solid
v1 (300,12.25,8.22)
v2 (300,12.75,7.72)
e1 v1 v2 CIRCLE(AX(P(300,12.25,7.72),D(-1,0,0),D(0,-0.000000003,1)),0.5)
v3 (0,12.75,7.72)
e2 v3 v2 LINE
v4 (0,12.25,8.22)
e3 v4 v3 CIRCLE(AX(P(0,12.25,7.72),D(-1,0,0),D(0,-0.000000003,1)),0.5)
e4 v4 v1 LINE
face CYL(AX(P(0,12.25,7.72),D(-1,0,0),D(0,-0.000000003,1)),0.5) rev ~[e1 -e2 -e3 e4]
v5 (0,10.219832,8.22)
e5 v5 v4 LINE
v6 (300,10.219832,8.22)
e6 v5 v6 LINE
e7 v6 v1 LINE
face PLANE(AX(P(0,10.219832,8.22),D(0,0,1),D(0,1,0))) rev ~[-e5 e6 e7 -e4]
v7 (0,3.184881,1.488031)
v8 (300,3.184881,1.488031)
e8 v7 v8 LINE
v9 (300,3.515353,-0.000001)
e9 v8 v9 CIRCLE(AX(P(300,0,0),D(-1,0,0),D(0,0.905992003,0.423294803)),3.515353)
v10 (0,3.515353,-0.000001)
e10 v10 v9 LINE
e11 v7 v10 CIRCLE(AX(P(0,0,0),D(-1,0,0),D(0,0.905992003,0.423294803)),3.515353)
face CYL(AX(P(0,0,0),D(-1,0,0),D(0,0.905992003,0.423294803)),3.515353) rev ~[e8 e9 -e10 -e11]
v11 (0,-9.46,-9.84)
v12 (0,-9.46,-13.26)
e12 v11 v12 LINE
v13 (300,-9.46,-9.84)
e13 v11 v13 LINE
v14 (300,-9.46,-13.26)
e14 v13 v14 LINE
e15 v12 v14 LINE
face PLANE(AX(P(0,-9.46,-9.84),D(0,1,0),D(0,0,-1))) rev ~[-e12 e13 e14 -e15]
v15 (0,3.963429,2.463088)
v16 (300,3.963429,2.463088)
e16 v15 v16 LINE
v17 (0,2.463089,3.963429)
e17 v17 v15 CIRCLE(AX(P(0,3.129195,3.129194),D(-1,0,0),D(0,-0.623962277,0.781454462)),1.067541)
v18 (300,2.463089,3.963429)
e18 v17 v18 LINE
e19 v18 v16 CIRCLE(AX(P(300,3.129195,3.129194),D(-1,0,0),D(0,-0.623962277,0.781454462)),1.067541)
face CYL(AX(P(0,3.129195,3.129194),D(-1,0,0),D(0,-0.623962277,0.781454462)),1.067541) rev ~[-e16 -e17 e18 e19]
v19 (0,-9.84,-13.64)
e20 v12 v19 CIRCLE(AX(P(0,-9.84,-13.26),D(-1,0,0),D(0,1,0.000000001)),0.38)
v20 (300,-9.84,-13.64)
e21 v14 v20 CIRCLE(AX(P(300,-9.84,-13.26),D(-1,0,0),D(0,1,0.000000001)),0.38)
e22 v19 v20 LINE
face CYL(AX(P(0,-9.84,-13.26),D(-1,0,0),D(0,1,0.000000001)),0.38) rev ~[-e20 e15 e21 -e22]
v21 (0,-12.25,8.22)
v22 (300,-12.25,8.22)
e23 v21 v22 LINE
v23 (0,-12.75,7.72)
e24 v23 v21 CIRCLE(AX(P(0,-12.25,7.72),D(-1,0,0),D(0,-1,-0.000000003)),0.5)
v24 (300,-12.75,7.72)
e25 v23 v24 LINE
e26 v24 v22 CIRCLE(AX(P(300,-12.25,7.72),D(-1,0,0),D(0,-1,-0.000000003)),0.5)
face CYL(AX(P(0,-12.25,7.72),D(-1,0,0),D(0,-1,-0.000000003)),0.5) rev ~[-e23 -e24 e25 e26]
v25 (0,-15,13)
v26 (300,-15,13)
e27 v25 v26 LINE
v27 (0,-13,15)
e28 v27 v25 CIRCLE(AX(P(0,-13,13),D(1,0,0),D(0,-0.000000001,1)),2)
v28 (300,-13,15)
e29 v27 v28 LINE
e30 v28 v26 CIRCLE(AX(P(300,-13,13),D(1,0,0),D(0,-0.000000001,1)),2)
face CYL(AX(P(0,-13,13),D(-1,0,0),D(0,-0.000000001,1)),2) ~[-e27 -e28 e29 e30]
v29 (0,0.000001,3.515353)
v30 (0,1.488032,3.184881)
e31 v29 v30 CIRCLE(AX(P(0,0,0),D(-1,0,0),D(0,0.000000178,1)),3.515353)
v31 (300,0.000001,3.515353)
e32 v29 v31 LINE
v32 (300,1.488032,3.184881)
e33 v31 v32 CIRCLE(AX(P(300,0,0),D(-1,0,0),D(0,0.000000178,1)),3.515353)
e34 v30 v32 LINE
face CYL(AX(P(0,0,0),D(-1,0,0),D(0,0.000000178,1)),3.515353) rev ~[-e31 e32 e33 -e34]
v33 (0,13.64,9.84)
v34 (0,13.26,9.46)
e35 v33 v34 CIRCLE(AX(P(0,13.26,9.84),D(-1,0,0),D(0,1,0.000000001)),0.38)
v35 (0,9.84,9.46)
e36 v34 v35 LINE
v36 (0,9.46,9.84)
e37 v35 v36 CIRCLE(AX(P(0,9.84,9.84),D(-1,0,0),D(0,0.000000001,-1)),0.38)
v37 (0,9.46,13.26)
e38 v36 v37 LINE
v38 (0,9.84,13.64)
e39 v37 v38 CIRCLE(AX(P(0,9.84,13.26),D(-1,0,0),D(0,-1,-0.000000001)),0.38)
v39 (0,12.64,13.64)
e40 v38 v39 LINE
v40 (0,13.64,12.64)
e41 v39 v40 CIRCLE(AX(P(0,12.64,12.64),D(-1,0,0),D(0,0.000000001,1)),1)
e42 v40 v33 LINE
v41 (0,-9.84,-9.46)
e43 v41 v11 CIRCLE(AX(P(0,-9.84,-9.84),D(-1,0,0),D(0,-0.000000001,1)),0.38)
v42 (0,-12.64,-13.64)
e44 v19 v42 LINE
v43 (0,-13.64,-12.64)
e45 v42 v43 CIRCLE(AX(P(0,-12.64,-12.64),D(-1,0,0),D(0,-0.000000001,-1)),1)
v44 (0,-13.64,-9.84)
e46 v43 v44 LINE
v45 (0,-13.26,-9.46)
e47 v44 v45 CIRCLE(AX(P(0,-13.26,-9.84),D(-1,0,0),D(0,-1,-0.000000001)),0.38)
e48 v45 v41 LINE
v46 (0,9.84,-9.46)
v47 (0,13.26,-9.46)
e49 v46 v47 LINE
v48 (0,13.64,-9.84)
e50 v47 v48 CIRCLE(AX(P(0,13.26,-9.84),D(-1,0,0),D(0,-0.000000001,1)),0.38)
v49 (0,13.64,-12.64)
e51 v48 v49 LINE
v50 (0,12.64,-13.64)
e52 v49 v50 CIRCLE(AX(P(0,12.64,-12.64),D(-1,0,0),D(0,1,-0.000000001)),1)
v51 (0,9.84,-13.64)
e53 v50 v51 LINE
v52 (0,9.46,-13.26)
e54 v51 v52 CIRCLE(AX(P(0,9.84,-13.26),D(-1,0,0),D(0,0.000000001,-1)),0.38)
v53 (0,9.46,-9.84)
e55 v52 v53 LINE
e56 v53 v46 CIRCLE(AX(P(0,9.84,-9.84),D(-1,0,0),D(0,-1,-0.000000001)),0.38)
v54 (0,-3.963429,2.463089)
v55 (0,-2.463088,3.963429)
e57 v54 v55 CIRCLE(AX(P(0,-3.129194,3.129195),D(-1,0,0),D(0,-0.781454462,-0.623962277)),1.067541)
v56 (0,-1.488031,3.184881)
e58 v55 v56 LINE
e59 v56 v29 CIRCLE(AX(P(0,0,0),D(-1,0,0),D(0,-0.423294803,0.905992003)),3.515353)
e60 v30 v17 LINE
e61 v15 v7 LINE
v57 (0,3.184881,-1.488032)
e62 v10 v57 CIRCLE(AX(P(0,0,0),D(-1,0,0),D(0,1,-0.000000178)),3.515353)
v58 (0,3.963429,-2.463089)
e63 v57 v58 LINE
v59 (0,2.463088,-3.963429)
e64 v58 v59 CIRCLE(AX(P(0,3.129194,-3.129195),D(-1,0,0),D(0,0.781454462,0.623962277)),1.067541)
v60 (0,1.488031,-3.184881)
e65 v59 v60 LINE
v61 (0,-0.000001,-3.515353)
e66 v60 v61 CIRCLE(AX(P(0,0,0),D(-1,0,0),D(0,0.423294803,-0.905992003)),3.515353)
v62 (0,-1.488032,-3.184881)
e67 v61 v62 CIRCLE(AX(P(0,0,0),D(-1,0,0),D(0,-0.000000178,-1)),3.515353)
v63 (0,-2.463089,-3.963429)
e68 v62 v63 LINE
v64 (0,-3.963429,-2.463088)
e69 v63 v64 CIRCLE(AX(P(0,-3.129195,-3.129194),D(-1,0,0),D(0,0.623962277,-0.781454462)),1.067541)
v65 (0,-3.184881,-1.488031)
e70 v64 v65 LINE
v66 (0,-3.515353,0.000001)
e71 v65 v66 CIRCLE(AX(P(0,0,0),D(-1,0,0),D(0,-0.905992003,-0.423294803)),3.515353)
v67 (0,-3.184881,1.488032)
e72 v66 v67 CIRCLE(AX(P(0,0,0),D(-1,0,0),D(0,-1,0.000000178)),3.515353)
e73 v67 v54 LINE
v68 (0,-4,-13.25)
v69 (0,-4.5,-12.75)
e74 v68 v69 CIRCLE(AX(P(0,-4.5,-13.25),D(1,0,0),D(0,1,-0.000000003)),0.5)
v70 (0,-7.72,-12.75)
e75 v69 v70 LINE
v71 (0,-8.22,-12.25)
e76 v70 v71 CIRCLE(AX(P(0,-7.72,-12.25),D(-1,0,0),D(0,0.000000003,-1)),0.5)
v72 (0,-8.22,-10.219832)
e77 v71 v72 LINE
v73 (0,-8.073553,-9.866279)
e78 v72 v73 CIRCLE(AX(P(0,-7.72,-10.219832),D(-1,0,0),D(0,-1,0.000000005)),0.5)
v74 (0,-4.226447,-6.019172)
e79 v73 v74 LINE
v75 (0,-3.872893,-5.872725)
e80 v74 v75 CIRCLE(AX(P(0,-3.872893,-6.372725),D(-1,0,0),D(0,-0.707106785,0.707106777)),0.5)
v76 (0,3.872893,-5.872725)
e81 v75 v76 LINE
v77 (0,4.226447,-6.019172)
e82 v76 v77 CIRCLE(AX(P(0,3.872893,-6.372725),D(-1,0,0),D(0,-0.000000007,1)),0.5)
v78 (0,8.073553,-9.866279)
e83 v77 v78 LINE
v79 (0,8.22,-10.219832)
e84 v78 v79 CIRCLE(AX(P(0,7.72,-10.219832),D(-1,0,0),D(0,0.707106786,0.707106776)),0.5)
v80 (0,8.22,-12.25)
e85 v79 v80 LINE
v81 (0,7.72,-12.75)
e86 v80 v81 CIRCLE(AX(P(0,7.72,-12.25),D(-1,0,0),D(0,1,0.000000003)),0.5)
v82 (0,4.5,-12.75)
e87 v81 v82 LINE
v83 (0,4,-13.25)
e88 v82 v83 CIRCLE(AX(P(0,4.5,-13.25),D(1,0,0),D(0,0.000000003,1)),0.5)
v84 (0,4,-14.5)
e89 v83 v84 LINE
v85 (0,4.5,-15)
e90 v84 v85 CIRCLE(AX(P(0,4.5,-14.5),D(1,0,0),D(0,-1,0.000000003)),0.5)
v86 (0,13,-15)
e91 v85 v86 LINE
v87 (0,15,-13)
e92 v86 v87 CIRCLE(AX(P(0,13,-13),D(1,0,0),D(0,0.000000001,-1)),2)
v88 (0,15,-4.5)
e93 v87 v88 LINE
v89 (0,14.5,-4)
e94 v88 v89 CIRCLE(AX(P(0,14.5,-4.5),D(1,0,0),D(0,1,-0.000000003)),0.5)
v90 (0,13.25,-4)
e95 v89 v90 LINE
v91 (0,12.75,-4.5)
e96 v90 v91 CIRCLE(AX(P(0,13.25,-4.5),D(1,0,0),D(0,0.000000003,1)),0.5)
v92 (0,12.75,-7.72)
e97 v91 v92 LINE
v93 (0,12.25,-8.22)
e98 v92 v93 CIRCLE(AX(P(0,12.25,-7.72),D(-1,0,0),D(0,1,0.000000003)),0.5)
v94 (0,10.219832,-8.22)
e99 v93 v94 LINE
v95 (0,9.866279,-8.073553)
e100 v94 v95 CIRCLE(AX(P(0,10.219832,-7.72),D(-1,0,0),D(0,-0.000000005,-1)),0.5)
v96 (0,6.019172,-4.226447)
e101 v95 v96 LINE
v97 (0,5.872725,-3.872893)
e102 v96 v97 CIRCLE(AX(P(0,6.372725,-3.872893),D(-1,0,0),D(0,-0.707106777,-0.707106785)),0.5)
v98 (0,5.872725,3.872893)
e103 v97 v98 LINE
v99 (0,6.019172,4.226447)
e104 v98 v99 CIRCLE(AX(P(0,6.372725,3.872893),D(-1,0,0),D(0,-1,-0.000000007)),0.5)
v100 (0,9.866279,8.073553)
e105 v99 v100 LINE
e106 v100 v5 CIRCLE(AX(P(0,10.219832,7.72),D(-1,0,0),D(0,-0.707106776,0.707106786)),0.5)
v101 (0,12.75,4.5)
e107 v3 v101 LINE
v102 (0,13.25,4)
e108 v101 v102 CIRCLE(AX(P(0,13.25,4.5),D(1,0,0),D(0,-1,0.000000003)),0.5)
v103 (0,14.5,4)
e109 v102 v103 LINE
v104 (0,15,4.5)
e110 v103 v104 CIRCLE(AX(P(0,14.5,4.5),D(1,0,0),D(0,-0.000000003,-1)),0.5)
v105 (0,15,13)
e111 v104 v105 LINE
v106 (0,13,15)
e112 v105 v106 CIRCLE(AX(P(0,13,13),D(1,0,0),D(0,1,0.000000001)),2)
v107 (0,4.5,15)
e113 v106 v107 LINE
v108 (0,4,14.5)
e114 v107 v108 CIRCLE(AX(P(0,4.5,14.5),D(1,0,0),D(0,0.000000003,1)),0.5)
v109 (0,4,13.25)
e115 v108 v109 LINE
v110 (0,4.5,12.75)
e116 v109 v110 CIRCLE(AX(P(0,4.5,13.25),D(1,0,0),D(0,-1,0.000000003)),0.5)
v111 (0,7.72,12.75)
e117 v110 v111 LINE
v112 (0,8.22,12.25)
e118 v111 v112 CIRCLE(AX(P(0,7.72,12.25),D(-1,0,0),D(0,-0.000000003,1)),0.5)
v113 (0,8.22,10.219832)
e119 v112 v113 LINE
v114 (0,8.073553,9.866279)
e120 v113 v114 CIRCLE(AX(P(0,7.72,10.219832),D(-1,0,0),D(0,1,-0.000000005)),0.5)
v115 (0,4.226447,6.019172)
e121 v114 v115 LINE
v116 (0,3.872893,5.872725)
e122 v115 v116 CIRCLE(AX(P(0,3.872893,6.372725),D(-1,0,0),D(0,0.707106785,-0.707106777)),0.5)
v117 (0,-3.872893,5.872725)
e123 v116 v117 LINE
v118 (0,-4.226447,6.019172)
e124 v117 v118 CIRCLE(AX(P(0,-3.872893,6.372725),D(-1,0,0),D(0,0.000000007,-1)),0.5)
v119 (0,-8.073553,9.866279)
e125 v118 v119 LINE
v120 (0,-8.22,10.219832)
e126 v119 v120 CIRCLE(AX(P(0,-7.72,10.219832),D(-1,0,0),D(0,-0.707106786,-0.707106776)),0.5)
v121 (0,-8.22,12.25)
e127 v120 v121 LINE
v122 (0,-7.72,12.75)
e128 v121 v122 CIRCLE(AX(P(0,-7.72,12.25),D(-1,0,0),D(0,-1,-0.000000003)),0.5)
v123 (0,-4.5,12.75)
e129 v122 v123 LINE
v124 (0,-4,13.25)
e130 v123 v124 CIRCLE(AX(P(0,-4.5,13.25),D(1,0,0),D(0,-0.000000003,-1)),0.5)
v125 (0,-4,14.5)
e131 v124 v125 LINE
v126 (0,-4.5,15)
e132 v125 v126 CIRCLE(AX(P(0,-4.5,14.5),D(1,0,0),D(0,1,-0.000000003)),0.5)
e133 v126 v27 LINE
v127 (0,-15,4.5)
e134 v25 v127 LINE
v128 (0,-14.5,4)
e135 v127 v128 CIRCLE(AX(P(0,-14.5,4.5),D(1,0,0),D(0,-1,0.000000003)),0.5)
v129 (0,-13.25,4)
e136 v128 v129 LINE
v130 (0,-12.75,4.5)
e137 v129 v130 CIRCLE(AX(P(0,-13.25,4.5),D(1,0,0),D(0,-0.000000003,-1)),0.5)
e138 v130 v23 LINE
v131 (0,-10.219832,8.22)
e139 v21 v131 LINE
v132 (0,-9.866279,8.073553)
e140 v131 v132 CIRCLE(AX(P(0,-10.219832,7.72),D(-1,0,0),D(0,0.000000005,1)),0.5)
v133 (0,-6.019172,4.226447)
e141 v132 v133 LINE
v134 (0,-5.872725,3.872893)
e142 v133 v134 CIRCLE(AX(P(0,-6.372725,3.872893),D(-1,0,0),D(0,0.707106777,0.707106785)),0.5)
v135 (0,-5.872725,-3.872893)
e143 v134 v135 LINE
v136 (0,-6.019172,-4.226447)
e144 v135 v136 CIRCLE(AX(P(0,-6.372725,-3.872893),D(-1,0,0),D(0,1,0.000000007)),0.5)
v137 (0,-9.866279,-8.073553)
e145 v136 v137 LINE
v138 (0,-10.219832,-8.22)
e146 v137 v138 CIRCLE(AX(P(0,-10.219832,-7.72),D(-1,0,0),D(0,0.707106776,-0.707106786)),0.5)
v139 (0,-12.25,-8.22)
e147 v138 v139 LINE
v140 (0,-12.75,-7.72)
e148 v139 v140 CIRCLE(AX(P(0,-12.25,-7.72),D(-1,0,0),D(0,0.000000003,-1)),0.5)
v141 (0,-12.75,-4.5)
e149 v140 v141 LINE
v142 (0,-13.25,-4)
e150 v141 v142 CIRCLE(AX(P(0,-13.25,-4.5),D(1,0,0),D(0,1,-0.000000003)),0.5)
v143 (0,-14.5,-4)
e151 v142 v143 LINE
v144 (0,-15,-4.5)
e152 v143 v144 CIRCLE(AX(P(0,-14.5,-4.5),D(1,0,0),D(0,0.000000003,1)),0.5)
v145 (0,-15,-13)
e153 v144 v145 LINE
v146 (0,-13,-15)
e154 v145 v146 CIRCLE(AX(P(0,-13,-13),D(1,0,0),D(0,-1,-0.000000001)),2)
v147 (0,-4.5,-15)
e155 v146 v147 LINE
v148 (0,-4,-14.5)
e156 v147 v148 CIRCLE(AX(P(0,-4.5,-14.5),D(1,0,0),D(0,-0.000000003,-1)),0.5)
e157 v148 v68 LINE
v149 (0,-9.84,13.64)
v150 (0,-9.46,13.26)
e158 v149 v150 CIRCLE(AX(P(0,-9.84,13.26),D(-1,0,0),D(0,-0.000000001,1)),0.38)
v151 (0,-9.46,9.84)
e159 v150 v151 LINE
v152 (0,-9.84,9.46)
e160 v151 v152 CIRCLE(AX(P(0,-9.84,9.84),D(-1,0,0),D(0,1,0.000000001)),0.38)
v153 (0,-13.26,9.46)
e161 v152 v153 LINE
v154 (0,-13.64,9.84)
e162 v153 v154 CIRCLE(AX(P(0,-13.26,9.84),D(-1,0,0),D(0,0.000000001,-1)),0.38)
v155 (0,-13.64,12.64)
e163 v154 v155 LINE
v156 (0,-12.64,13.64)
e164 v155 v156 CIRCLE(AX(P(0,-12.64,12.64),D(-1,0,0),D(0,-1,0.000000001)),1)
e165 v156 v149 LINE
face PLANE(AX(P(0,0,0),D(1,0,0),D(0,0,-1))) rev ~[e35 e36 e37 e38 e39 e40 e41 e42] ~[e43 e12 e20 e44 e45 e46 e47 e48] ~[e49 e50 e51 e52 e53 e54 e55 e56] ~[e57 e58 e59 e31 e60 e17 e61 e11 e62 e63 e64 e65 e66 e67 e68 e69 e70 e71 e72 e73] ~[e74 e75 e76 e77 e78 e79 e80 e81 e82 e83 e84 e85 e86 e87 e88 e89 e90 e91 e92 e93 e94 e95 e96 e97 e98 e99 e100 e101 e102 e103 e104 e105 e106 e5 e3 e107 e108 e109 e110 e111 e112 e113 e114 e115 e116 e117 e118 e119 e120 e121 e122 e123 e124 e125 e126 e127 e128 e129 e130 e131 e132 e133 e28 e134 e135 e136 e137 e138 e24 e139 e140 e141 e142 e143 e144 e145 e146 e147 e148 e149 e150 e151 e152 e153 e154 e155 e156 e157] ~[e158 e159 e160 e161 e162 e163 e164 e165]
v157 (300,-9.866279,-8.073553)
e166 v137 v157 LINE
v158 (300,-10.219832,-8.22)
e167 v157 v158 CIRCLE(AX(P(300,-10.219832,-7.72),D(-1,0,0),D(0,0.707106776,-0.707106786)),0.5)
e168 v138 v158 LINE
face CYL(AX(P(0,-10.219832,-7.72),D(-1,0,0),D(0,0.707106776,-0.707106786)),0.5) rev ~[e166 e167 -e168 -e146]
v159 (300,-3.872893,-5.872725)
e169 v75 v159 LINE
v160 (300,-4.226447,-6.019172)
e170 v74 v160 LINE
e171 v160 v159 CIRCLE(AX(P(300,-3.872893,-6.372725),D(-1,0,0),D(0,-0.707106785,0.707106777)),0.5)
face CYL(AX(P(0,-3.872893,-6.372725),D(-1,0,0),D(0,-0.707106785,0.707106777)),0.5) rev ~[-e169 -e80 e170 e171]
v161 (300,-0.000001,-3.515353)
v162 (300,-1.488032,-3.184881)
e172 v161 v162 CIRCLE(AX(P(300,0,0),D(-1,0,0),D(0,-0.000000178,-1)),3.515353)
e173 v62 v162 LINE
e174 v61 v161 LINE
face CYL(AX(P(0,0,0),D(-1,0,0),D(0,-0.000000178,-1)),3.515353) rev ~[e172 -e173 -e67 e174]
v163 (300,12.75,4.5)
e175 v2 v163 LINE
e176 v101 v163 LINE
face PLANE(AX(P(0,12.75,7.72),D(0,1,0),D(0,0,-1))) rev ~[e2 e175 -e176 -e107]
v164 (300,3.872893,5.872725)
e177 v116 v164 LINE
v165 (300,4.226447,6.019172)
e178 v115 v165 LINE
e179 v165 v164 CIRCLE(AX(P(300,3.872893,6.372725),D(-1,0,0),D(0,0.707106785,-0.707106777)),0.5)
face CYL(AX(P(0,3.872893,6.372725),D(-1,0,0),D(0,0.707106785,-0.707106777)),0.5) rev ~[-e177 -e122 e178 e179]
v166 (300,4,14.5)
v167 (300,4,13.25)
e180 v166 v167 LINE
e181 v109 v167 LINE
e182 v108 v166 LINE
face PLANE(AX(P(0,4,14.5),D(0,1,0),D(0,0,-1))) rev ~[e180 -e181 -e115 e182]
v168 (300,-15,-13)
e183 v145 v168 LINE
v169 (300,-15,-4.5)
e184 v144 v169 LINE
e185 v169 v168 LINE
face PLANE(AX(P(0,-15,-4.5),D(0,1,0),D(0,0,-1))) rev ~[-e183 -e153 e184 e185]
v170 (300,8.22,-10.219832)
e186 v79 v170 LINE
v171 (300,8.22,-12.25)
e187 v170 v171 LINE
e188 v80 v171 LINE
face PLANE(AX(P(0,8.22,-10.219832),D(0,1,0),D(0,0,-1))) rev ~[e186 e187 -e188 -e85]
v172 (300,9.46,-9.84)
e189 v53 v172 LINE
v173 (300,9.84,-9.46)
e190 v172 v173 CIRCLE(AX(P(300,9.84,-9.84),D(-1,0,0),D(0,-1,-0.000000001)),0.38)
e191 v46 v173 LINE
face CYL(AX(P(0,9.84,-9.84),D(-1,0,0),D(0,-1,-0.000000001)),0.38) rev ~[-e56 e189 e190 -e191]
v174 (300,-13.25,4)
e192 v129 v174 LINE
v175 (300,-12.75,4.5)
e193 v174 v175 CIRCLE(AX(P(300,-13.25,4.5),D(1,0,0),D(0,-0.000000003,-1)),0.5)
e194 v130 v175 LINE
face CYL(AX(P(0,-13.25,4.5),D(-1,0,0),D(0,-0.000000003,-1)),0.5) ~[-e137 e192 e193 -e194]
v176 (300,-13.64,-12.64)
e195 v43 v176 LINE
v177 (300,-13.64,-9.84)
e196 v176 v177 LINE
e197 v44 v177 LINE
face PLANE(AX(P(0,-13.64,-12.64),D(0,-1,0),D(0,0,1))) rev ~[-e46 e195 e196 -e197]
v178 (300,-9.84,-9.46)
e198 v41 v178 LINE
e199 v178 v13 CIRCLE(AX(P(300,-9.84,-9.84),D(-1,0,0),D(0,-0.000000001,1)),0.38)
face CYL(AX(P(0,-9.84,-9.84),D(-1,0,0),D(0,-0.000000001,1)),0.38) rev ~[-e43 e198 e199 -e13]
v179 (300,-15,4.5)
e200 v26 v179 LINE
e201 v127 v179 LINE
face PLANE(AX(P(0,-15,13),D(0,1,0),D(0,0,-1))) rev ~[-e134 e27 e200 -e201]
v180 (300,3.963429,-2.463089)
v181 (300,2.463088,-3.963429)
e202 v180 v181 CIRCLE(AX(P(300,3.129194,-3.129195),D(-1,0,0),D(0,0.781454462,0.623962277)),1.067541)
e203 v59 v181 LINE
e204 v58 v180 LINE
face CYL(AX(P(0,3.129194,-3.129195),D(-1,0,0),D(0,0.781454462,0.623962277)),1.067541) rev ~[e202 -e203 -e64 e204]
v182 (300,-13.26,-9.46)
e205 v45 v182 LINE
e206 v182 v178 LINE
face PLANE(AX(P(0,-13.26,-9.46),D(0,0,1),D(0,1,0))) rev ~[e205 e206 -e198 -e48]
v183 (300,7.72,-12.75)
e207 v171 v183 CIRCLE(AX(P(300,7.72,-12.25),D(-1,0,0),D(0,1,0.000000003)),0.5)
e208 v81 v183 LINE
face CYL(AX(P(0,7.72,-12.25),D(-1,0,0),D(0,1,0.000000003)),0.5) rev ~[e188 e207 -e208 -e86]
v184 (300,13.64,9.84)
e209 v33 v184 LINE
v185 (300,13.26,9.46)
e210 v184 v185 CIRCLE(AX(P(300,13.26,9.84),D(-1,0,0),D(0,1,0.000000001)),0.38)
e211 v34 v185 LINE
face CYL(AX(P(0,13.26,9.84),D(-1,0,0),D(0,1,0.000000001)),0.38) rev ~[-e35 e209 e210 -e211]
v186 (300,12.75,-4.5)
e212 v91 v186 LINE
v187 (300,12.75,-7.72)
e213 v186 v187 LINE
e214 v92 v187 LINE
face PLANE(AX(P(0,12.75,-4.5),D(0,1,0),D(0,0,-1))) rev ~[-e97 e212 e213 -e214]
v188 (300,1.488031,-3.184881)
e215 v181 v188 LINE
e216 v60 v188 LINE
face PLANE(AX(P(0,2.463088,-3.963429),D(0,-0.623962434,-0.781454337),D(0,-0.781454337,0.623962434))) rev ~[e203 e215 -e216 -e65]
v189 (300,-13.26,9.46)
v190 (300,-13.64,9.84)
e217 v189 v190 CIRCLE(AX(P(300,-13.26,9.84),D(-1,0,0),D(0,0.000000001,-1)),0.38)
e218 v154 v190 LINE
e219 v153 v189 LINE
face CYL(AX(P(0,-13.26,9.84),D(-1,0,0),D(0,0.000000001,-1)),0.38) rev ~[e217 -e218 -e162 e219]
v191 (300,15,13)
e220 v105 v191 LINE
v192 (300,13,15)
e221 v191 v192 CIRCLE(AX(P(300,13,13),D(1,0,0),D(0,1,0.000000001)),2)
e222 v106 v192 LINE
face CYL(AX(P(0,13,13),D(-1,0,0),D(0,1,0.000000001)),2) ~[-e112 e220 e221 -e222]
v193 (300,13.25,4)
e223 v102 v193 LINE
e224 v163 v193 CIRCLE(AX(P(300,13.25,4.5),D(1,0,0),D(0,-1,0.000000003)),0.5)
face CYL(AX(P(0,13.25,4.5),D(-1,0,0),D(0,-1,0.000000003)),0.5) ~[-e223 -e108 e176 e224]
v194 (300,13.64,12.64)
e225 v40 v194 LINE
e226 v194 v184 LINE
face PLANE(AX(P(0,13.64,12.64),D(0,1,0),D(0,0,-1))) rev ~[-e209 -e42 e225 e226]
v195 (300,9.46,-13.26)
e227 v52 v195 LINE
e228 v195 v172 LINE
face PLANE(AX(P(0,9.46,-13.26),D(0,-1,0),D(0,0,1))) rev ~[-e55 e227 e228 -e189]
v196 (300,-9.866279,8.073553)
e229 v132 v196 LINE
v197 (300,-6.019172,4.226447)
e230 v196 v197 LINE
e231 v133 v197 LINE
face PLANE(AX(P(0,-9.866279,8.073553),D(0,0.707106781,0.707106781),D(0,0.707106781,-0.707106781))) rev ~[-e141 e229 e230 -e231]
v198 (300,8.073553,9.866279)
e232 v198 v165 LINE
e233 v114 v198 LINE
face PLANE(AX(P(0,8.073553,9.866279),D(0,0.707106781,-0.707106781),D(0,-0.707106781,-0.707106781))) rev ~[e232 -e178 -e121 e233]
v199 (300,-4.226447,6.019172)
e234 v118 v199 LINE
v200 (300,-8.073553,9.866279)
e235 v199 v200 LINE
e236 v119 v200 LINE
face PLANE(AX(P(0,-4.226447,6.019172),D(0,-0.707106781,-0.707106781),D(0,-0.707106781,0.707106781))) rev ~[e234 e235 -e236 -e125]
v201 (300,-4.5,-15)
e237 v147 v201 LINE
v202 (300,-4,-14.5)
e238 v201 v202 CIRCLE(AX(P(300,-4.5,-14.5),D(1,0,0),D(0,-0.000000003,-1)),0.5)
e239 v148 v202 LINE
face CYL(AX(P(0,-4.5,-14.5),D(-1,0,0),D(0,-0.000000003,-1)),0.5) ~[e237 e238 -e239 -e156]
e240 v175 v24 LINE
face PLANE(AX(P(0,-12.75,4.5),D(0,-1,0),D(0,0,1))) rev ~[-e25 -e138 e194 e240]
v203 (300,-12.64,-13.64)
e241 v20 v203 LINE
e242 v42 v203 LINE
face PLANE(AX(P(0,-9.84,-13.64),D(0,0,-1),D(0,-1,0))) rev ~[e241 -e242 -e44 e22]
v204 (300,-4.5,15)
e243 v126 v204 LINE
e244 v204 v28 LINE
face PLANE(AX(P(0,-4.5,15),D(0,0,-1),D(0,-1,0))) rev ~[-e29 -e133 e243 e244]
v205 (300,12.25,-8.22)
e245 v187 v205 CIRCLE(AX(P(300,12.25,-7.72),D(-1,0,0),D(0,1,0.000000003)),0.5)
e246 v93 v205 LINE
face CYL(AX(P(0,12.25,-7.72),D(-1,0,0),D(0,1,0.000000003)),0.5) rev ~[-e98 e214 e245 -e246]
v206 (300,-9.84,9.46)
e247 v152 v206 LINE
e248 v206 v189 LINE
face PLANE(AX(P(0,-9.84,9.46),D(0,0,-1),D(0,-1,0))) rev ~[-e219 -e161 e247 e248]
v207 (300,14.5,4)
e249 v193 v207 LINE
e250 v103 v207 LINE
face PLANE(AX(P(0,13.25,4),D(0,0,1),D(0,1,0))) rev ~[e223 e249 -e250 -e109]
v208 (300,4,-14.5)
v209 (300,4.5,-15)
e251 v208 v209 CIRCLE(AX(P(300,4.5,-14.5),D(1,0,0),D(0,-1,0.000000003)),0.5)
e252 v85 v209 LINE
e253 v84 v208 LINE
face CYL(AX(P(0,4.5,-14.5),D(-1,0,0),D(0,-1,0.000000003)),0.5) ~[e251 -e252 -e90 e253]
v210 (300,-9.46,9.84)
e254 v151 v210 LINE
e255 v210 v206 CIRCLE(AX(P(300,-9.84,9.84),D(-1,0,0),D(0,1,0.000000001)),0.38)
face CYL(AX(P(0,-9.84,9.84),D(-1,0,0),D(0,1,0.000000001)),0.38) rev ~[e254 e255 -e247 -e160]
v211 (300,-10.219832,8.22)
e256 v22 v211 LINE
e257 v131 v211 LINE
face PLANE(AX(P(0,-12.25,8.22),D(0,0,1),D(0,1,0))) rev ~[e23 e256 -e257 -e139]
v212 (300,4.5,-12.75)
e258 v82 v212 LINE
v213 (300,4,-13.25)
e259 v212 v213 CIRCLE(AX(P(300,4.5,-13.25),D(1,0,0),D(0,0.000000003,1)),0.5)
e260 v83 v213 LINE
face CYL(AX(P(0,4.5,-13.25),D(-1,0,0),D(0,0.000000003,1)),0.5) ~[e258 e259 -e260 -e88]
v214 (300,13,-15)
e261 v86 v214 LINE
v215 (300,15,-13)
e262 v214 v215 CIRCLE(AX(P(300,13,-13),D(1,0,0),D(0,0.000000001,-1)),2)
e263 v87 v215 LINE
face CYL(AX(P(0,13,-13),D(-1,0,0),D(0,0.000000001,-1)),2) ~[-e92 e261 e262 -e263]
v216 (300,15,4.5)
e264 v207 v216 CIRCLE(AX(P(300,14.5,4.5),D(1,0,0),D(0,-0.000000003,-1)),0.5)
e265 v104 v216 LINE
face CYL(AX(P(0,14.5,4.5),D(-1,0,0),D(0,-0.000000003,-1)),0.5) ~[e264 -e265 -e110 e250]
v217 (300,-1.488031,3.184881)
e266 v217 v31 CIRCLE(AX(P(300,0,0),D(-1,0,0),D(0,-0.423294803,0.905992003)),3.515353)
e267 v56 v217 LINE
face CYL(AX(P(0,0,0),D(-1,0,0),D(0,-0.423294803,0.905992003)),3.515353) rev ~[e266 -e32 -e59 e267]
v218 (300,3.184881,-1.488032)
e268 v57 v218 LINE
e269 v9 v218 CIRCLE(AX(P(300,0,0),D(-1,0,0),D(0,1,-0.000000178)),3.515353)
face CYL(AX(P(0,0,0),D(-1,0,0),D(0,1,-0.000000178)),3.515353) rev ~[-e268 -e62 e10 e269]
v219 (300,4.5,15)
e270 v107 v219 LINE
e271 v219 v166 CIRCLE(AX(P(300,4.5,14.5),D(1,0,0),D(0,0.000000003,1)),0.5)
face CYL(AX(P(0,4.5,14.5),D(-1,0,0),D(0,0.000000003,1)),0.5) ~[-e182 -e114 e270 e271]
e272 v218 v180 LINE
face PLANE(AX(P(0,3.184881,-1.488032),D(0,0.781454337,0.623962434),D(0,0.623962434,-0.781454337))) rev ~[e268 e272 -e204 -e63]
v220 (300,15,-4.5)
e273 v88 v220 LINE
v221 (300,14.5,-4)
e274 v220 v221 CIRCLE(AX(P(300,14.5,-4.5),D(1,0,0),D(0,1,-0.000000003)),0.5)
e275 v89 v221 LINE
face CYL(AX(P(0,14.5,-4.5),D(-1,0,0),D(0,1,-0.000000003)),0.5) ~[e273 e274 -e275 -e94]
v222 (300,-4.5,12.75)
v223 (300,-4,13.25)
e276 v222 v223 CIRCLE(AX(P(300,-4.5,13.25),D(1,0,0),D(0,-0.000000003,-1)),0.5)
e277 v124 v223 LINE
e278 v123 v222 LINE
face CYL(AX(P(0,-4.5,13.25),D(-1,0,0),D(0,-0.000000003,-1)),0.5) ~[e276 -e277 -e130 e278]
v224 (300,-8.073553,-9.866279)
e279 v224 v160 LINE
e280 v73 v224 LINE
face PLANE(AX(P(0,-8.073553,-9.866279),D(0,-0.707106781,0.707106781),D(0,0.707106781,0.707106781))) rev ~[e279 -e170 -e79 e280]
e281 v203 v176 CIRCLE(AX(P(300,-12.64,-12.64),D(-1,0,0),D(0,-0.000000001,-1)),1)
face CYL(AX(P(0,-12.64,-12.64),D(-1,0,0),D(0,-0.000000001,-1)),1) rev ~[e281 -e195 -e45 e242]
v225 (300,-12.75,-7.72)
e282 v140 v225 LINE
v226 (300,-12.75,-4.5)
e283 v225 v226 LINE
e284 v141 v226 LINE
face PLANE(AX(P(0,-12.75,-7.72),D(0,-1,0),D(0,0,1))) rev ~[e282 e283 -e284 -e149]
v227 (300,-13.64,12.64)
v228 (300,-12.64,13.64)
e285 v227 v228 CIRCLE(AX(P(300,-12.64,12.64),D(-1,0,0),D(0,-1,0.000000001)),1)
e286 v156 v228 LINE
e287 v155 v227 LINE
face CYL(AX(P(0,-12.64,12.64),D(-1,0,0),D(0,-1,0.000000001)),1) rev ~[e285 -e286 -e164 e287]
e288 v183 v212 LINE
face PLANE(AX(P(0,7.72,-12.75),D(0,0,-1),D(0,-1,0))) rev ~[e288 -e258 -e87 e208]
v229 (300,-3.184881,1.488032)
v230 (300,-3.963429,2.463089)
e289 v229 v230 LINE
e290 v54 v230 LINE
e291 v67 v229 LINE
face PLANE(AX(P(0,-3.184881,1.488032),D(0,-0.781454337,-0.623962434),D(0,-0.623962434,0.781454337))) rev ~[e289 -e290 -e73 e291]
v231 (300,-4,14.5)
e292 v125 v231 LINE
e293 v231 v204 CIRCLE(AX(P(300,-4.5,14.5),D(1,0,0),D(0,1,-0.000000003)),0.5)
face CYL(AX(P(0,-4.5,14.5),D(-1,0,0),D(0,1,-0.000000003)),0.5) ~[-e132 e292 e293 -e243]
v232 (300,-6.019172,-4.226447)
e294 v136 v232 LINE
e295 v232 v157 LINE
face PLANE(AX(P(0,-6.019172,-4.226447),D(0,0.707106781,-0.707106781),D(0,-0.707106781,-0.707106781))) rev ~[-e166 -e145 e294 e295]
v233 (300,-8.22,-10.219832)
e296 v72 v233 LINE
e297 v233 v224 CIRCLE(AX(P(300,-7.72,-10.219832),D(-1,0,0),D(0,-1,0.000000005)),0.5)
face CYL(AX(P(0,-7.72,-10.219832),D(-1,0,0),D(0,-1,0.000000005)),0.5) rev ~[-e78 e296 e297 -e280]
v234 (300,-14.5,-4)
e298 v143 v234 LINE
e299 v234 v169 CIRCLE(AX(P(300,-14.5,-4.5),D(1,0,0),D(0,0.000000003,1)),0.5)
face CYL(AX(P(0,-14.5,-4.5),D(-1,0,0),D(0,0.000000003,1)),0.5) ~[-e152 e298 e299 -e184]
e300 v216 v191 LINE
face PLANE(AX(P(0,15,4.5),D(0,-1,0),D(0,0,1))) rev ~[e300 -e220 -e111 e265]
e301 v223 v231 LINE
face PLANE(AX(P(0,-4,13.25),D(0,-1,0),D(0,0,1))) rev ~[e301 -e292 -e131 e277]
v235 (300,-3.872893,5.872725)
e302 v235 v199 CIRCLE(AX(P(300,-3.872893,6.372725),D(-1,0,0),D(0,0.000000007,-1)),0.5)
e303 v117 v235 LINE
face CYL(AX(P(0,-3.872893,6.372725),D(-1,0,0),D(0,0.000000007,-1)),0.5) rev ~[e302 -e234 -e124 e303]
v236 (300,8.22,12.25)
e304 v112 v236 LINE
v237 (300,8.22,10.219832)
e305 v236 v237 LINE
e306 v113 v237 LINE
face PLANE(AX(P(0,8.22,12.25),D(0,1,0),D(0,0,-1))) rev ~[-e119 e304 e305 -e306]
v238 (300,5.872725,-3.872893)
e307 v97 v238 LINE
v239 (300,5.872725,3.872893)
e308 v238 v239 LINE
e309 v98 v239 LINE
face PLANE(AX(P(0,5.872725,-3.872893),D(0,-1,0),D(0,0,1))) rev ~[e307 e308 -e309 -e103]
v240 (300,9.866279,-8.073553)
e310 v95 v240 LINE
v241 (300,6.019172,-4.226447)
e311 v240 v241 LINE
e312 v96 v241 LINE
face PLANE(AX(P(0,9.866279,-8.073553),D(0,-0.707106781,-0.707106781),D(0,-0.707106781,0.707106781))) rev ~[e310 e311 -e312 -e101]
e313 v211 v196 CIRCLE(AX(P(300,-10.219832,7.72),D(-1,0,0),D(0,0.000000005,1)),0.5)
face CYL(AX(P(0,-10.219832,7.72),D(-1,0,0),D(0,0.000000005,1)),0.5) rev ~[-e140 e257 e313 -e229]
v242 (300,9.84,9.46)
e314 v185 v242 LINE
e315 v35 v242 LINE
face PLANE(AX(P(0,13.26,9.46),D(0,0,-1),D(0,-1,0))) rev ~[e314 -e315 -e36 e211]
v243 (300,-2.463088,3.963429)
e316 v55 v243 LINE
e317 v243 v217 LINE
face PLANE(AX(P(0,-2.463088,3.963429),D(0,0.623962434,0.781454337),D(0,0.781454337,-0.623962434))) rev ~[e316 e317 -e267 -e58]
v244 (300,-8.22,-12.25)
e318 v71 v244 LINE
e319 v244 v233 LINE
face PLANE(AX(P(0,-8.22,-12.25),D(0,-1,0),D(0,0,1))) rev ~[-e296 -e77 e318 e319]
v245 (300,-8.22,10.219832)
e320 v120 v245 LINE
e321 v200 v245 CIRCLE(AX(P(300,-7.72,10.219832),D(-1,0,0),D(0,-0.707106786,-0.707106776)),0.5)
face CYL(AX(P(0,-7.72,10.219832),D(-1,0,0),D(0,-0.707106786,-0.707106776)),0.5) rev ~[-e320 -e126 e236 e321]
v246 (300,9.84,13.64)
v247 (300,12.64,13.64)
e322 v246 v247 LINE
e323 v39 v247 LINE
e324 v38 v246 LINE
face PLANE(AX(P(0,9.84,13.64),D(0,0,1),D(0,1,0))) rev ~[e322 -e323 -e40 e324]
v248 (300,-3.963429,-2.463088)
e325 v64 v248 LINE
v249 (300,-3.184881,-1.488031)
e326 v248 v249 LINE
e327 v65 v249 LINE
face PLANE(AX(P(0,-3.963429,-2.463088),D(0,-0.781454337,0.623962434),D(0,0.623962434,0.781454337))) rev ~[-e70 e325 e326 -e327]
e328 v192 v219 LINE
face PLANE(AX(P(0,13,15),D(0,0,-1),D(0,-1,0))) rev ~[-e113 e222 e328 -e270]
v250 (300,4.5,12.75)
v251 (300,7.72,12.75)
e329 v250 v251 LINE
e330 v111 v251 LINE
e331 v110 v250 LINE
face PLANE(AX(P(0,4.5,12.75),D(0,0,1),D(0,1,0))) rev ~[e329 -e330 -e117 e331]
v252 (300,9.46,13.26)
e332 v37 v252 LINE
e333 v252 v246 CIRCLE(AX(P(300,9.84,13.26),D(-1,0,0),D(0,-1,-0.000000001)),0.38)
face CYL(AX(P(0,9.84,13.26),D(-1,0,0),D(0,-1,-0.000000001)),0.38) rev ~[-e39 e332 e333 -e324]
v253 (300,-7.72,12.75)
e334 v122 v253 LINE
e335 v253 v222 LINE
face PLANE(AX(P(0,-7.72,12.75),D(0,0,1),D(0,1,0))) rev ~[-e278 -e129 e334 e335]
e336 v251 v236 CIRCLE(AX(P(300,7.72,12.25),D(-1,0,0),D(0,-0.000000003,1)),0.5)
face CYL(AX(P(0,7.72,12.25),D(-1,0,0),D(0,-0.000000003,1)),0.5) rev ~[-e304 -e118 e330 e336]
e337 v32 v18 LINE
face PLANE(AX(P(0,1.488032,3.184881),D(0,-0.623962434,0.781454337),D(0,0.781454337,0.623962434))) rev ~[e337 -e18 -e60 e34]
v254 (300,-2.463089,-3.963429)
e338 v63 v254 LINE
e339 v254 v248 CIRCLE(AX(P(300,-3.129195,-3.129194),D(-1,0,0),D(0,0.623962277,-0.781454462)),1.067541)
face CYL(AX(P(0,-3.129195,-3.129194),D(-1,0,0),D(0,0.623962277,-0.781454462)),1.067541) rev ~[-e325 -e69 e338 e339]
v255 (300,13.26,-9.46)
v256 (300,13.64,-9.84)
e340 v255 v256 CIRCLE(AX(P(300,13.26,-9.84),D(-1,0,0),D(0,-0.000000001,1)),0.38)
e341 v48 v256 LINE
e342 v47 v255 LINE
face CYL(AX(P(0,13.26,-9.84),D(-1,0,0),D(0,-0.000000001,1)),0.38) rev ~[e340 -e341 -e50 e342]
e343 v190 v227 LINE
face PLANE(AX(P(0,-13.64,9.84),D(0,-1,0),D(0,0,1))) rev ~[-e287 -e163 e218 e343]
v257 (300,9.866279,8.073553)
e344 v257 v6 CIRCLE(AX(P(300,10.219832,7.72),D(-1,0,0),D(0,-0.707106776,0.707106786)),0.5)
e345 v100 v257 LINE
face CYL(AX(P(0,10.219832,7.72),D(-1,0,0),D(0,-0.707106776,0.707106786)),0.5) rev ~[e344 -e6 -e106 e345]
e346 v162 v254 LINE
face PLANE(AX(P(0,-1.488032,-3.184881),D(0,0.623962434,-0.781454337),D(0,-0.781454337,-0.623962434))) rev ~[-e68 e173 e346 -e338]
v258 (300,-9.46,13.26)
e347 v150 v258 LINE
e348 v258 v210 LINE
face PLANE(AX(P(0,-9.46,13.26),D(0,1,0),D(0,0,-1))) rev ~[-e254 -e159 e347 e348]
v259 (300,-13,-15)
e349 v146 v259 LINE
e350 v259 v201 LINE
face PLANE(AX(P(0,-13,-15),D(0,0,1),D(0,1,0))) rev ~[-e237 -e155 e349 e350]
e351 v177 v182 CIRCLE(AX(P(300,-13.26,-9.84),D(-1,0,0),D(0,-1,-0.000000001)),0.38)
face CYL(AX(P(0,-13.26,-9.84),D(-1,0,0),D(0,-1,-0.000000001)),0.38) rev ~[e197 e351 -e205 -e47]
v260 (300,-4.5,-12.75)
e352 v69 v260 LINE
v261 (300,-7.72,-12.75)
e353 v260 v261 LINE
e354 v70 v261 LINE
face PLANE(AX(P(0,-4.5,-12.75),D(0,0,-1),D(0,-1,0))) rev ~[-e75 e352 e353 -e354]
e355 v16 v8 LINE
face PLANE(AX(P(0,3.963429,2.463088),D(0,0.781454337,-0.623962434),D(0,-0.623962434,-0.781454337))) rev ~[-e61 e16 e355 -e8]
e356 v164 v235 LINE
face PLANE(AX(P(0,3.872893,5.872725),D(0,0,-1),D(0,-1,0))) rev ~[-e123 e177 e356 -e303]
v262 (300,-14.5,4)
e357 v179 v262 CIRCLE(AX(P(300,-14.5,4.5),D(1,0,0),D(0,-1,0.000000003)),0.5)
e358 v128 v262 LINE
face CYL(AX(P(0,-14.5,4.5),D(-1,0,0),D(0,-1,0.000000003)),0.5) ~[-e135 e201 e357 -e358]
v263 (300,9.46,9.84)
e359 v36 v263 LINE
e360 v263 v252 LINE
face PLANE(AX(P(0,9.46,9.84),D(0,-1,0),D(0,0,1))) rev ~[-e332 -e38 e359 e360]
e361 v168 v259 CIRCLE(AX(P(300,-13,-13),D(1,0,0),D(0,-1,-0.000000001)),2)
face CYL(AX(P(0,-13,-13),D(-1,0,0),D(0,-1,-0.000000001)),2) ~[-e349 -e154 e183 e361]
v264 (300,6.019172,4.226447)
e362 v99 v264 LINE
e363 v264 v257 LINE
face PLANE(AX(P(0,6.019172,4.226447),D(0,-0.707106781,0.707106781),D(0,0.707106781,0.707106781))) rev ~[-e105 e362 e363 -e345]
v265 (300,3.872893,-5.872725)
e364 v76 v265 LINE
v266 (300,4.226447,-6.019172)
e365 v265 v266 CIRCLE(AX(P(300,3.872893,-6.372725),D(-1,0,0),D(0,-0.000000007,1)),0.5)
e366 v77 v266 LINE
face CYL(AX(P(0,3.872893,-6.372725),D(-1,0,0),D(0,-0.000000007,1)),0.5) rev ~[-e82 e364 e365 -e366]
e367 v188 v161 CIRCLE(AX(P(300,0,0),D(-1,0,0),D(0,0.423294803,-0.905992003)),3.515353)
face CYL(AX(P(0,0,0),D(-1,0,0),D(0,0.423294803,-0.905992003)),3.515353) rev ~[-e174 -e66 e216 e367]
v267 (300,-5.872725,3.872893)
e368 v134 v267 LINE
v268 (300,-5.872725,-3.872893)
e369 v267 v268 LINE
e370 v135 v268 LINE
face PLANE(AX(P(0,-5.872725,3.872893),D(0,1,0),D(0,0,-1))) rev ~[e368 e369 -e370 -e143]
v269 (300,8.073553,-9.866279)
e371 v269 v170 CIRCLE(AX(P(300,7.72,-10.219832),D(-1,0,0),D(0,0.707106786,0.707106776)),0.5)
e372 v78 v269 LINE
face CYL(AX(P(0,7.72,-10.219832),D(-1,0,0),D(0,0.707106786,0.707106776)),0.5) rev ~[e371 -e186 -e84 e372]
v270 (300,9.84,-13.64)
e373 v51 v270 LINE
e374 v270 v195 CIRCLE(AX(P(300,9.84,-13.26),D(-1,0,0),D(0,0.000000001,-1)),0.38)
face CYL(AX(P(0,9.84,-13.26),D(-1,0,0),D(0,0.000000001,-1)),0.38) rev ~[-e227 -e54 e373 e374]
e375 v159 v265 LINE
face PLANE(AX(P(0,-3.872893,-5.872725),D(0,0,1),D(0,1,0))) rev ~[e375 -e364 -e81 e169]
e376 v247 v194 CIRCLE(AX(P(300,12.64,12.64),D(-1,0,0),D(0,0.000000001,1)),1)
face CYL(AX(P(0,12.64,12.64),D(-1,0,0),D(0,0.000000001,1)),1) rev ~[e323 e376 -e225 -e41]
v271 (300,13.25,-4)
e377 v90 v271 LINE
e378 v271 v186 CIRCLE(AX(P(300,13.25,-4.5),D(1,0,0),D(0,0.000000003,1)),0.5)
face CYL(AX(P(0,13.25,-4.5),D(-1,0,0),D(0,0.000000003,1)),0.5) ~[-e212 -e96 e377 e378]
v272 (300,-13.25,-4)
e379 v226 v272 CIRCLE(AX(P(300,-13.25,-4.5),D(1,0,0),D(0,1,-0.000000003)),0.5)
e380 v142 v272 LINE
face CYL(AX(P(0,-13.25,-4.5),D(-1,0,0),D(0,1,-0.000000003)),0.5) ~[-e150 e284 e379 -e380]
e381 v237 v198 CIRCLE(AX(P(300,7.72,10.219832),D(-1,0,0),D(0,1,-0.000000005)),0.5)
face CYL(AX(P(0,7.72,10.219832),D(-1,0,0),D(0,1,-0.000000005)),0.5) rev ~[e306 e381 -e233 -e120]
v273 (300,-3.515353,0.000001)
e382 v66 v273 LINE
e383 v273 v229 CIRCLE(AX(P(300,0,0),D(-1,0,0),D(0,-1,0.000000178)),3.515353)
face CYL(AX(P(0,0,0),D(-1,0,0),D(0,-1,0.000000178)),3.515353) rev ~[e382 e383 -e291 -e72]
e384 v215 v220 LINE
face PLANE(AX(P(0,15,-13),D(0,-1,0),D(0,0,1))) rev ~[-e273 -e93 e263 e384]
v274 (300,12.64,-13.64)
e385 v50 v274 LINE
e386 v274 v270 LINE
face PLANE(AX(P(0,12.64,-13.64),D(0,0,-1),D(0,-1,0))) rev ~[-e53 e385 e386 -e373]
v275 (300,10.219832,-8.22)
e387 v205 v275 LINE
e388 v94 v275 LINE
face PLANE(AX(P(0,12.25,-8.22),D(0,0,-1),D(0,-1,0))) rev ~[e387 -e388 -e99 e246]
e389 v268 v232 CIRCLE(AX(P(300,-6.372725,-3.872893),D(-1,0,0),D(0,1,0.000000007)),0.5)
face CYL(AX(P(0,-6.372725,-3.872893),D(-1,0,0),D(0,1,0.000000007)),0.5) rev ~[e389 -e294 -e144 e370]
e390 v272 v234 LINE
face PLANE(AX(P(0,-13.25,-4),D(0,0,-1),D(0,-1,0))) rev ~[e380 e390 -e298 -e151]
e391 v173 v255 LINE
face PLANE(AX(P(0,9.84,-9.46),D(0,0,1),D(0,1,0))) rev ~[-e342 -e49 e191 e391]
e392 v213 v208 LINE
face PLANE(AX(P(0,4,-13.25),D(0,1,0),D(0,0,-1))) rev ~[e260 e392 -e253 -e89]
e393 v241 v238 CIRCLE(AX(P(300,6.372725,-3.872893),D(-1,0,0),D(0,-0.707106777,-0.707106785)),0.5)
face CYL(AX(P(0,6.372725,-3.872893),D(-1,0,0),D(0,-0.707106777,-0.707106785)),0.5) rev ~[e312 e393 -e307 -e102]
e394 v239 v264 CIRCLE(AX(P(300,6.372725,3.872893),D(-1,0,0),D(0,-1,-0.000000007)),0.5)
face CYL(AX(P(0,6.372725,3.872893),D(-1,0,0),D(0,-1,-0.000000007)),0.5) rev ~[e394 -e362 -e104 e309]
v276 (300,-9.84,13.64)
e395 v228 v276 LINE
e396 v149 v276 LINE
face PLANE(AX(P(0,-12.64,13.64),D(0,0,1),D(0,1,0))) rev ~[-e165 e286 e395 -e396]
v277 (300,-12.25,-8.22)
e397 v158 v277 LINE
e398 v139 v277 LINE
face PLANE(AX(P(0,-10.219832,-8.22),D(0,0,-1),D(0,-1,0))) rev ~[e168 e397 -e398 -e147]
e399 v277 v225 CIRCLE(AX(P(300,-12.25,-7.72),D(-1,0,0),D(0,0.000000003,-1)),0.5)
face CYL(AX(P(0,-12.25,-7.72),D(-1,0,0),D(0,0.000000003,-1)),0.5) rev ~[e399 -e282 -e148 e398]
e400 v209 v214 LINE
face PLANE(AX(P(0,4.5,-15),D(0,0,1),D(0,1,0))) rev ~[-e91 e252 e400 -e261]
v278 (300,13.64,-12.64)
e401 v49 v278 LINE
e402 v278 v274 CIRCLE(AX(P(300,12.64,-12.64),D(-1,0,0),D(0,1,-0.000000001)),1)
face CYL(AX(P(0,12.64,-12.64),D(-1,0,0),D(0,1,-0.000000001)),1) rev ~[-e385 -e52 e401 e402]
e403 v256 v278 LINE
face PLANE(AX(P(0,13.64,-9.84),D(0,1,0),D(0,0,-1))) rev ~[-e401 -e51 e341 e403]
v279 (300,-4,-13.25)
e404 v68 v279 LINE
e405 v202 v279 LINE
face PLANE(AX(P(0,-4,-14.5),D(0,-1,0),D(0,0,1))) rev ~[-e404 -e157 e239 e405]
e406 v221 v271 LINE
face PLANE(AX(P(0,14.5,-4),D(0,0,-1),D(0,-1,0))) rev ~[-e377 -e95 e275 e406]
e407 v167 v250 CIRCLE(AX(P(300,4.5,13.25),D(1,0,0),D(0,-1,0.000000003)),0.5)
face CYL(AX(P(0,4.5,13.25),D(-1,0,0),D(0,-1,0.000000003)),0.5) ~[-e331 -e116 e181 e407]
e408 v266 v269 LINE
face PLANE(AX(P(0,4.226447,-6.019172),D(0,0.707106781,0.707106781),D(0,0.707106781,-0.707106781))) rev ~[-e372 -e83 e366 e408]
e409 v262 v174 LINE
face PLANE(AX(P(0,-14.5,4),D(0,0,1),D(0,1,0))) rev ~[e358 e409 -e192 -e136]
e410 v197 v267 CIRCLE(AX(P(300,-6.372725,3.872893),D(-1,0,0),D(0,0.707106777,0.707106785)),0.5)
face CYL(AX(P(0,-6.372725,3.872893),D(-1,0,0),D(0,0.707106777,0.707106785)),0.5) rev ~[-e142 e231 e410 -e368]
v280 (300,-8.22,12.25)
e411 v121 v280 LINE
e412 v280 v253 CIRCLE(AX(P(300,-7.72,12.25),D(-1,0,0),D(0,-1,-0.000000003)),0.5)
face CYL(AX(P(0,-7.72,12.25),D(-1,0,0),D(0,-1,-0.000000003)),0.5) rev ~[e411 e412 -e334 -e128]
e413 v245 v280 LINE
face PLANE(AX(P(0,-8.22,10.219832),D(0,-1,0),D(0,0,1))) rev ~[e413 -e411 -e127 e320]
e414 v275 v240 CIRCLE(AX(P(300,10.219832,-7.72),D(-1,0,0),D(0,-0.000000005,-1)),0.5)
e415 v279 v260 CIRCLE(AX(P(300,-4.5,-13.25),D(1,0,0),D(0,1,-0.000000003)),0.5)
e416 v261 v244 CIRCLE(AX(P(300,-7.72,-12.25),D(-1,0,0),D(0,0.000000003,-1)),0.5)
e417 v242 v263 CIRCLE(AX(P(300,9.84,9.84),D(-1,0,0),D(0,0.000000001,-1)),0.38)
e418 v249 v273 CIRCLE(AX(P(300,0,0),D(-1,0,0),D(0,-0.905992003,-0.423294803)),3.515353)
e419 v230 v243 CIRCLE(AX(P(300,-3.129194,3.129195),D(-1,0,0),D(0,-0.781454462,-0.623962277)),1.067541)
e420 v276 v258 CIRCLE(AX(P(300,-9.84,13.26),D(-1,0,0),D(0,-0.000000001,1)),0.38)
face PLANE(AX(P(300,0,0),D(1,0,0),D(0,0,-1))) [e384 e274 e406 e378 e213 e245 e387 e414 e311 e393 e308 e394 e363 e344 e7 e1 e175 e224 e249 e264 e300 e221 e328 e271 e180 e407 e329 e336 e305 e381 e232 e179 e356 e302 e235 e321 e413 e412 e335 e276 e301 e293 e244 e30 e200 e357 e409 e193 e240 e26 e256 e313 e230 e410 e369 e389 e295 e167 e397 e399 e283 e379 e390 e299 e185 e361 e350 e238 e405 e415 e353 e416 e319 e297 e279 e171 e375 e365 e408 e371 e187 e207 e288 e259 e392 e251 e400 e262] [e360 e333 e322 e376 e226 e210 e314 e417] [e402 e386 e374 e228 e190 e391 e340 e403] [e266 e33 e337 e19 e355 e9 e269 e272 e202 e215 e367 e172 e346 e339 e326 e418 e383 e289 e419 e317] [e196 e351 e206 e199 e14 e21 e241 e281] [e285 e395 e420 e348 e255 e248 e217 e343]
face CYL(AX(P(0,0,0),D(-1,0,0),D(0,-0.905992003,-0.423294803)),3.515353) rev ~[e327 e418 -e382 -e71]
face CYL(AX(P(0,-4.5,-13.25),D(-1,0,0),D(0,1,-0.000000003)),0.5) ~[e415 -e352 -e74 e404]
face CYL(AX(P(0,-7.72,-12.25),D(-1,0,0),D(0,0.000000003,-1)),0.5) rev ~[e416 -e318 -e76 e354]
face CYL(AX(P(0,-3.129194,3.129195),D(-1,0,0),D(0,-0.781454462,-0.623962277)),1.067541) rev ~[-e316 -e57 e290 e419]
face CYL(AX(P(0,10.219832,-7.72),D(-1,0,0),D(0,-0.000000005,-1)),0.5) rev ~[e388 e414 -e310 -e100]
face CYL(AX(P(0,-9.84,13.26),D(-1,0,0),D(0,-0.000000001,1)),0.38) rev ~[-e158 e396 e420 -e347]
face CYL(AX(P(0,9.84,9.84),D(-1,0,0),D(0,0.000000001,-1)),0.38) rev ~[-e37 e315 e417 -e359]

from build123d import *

# Parameters (mm, degrees)
PERFIL_COM_ALUMINIO_PERFIL_COMER_30_X_DEPTH = 300


with BuildPart() as part:
    # Esboço11 → Perfil com. aluminio PERFIL COMER. 30 X 30(1) (new body)
    with BuildSketch(Plane(origin=(0, 0, 0), x_dir=(0, 0, -1), z_dir=(1, 0, 0))):
        with BuildLine():
            Line((0, 5.872725395), (-3.872893219, 5.872725395))
            ThreePointArc((-3.872893219, 5.872725395), (-4.064234935, 5.910785628), (-4.226446609, 6.019172004))
            Line((-4.226446609, 6.019172004), (-8.073553391, 9.866278785))
            ThreePointArc((-8.073553391, 9.866278785), (-8.181939766, 10.02849046), (-8.22, 10.219832176))
            Line((-8.22, 10.219832176), (-8.22, 12.25))
            ThreePointArc((-8.22, 12.25), (-8.073553391, 12.603553391), (-7.72, 12.75))
            Line((-7.72, 12.75), (-4.5, 12.75))
            ThreePointArc((-4.5, 12.75), (-4.146446609, 12.896446609), (-4, 13.25))
            Line((-4, 13.25), (-4, 14.5))
            ThreePointArc((-4, 14.5), (-4.146446609, 14.853553391), (-4.5, 15))
            Line((-4.5, 15), (-13, 15))
            ThreePointArc((-13, 15), (-14.414213562, 14.414213562), (-15, 13))
            Line((-15, 13), (-15, 4.5))
            ThreePointArc((-15, 4.5), (-14.853553391, 4.146446609), (-14.5, 4))
            Line((-14.5, 4), (-13.25, 4))
            ThreePointArc((-13.25, 4), (-12.896446609, 4.146446609), (-12.75, 4.5))
            Line((-12.75, 4.5), (-12.75, 7.72))
            ThreePointArc((-12.75, 7.72), (-12.603553391, 8.073553391), (-12.25, 8.22))
            Line((-12.25, 8.22), (-10.219832176, 8.22))
            ThreePointArc((-10.219832176, 8.22), (-10.02849046, 8.181939766), (-9.866278785, 8.073553391))
            Line((-9.866278785, 8.073553391), (-6.019172004, 4.226446609))
            ThreePointArc((-6.019172004, 4.226446609), (-5.910785628, 4.064234935), (-5.872725395, 3.872893219))
            Line((-5.872725395, 3.872893219), (-5.872725395, 0))
            Line((-5.872725395, 0), (-5.872725395, -3.872893219))
            ThreePointArc((-5.872725395, -3.872893219), (-5.910785628, -4.064234935), (-6.019172004, -4.226446609))
            Line((-6.019172004, -4.226446609), (-9.866278785, -8.073553391))
            ThreePointArc((-9.866278785, -8.073553391), (-10.02849046, -8.181939766), (-10.219832176, -8.22))
            Line((-10.219832176, -8.22), (-12.25, -8.22))
            ThreePointArc((-12.25, -8.22), (-12.603553391, -8.073553391), (-12.75, -7.72))
            Line((-12.75, -7.72), (-12.75, -4.5))
            ThreePointArc((-12.75, -4.5), (-12.896446609, -4.146446609), (-13.25, -4))
            Line((-13.25, -4), (-14.5, -4))
            ThreePointArc((-14.5, -4), (-14.853553391, -4.146446609), (-15, -4.5))
            Line((-15, -4.5), (-15, -13))
            ThreePointArc((-15, -13), (-14.414213562, -14.414213562), (-13, -15))
            Line((-13, -15), (-4.5, -15))
            ThreePointArc((-4.5, -15), (-4.146446609, -14.853553391), (-4, -14.5))
            Line((-4, -14.5), (-4, -13.25))
            ThreePointArc((-4, -13.25), (-4.146446609, -12.896446609), (-4.5, -12.75))
            Line((-4.5, -12.75), (-7.72, -12.75))
            ThreePointArc((-7.72, -12.75), (-8.073553391, -12.603553391), (-8.22, -12.25))
            Line((-8.22, -12.25), (-8.22, -10.219832176))
            ThreePointArc((-8.22, -10.219832176), (-8.181939766, -10.02849046), (-8.073553391, -9.866278785))
            Line((-8.073553391, -9.866278785), (-4.226446609, -6.019172004))
            ThreePointArc((-4.226446609, -6.019172004), (-4.064234935, -5.910785628), (-3.872893219, -5.872725395))
            Line((-3.872893219, -5.872725395), (0, -5.872725395))
            Line((0, -5.872725395), (3.872893219, -5.872725395))
            ThreePointArc((3.872893219, -5.872725395), (4.064234935, -5.910785628), (4.226446609, -6.019172004))
            Line((4.226446609, -6.019172004), (8.073553391, -9.866278785))
            ThreePointArc((8.073553391, -9.866278785), (8.181939766, -10.02849046), (8.22, -10.219832176))
            Line((8.22, -10.219832176), (8.22, -12.25))
            ThreePointArc((8.22, -12.25), (8.073553391, -12.603553391), (7.72, -12.75))
            Line((7.72, -12.75), (4.5, -12.75))
            ThreePointArc((4.5, -12.75), (4.146446609, -12.896446609), (4, -13.25))
            Line((4, -13.25), (4, -14.5))
            ThreePointArc((4, -14.5), (4.146446609, -14.853553391), (4.5, -15))
            Line((4.5, -15), (13, -15))
            ThreePointArc((13, -15), (14.414213562, -14.414213562), (15, -13))
            Line((15, -13), (15, -4.5))
            ThreePointArc((15, -4.5), (14.853553391, -4.146446609), (14.5, -4))
            Line((14.5, -4), (13.25, -4))
            ThreePointArc((13.25, -4), (12.896446609, -4.146446609), (12.75, -4.5))
            Line((12.75, -4.5), (12.75, -7.72))
            ThreePointArc((12.75, -7.72), (12.603553391, -8.073553391), (12.25, -8.22))
            Line((12.25, -8.22), (10.219832176, -8.22))
            ThreePointArc((10.219832176, -8.22), (10.02849046, -8.181939766), (9.866278785, -8.073553391))
            Line((9.866278785, -8.073553391), (6.019172004, -4.226446609))
            ThreePointArc((6.019172004, -4.226446609), (5.910785628, -4.064234935), (5.872725395, -3.872893219))
            Line((5.872725395, -3.872893219), (5.872725395, 0))
            Line((5.872725395, 0), (5.872725395, 3.872893219))
            ThreePointArc((5.872725395, 3.872893219), (5.910785628, 4.064234935), (6.019172004, 4.226446609))
            Line((6.019172004, 4.226446609), (9.866278785, 8.073553391))
            ThreePointArc((9.866278785, 8.073553391), (10.02849046, 8.181939766), (10.219832176, 8.22))
            Line((10.219832176, 8.22), (12.25, 8.22))
            ThreePointArc((12.25, 8.22), (12.603553391, 8.073553391), (12.75, 7.72))
            Line((12.75, 7.72), (12.75, 4.5))
            ThreePointArc((12.75, 4.5), (12.896446609, 4.146446609), (13.25, 4))
            Line((13.25, 4), (14.5, 4))
            ThreePointArc((14.5, 4), (14.853553391, 4.146446609), (15, 4.5))
            Line((15, 4.5), (15, 13))
            ThreePointArc((15, 13), (14.414213562, 14.414213562), (13, 15))
            Line((13, 15), (4.5, 15))
            ThreePointArc((4.5, 15), (4.146446609, 14.853553391), (4, 14.5))
            Line((4, 14.5), (4, 13.25))
            ThreePointArc((4, 13.25), (4.146446609, 12.896446609), (4.5, 12.75))
            Line((4.5, 12.75), (7.72, 12.75))
            ThreePointArc((7.72, 12.75), (8.073553391, 12.603553391), (8.22, 12.25))
            Line((8.22, 12.25), (8.22, 10.219832176))
            ThreePointArc((8.22, 10.219832176), (8.181939766, 10.02849046), (8.073553391, 9.866278785))
            Line((8.073553391, 9.866278785), (4.226446609, 6.019172004))
            ThreePointArc((4.226446609, 6.019172004), (4.064234935, 5.910785628), (3.872893219, 5.872725395))
            Line((3.872893219, 5.872725395), (0, 5.872725395))
        make_face()
        with BuildLine():
            Line((-3.184880901, 1.488031663), (-3.963428513, 2.463089414))
            ThreePointArc((-3.963428513, 2.463089414), (-3.884059168, 3.884060272), (-2.463088278, 3.963429044))
            Line((-2.463088278, 3.963429044), (-1.488030527, 3.184881432))
            ThreePointArc((-1.488030527, 3.184881432), (-0.762142415, 3.431740597), (6.27e-07, 3.515352697))
            ThreePointArc((6.27e-07, 3.515352697), (0.762143639, 3.431740325), (1.488031663, 3.184880901))
            Line((1.488031663, 3.184880901), (2.463089414, 3.963428513))
            ThreePointArc((2.463089414, 3.963428513), (3.884060272, 3.884059168), (3.963429044, 2.463088278))
            Line((3.963429044, 2.463088278), (3.184881432, 1.488030527))
            ThreePointArc((3.184881432, 1.488030527), (3.431740597, 0.762142415), (3.515352697, -6.27e-07))
            ThreePointArc((3.515352697, -6.27e-07), (3.431740325, -0.762143639), (3.184880901, -1.488031663))
            Line((3.184880901, -1.488031663), (3.963428513, -2.463089414))
            ThreePointArc((3.963428513, -2.463089414), (3.884059168, -3.884060272), (2.463088278, -3.963429044))
            Line((2.463088278, -3.963429044), (1.488030527, -3.184881432))
            ThreePointArc((1.488030527, -3.184881432), (0.762142415, -3.431740597), (-6.27e-07, -3.515352697))
            ThreePointArc((-6.27e-07, -3.515352697), (-0.762143639, -3.431740325), (-1.488031663, -3.184880901))
            Line((-1.488031663, -3.184880901), (-2.463089414, -3.963428513))
            ThreePointArc((-2.463089414, -3.963428513), (-3.884060272, -3.884059168), (-3.963429044, -2.463088278))
            Line((-3.963429044, -2.463088278), (-3.184881432, -1.488030527))
            ThreePointArc((-3.184881432, -1.488030527), (-3.431740597, -0.762142415), (-3.515352697, 6.27e-07))
            ThreePointArc((-3.515352697, 6.27e-07), (-3.431740325, 0.762143639), (-3.184880901, 1.488031663))
        make_face(mode=Mode.SUBTRACT)
        with BuildLine():
            Line((-9.46, 13.26), (-9.46, 9.84))
            ThreePointArc((-9.46, 9.84), (-9.571299423, 9.571299423), (-9.84, 9.46))
            Line((-9.84, 9.46), (-13.26, 9.46))
            ThreePointArc((-13.26, 9.46), (-13.528700577, 9.571299423), (-13.64, 9.84))
            Line((-13.64, 9.84), (-13.64, 12.64))
            ThreePointArc((-13.64, 12.64), (-13.347106781, 13.347106781), (-12.64, 13.64))
            Line((-12.64, 13.64), (-9.84, 13.64))
            ThreePointArc((-9.84, 13.64), (-9.571299423, 13.528700577), (-9.46, 13.26))
        make_face(mode=Mode.SUBTRACT)
        with BuildLine():
            Line((13.64, 12.64), (13.64, 9.84))
            ThreePointArc((13.64, 9.84), (13.528700577, 9.571299423), (13.26, 9.46))
            Line((13.26, 9.46), (9.84, 9.46))
            ThreePointArc((9.84, 9.46), (9.571299423, 9.571299423), (9.46, 9.84))
            Line((9.46, 9.84), (9.46, 13.26))
            ThreePointArc((9.46, 13.26), (9.571299423, 13.528700577), (9.84, 13.64))
            Line((9.84, 13.64), (12.64, 13.64))
            ThreePointArc((12.64, 13.64), (13.347106781, 13.347106781), (13.64, 12.64))
        make_face(mode=Mode.SUBTRACT)
        with BuildLine():
            Line((12.64, -13.64), (9.84, -13.64))
            ThreePointArc((9.84, -13.64), (9.571299423, -13.528700577), (9.46, -13.26))
            Line((9.46, -13.26), (9.46, -9.84))
            ThreePointArc((9.46, -9.84), (9.571299423, -9.571299423), (9.84, -9.46))
            Line((9.84, -9.46), (13.26, -9.46))
            ThreePointArc((13.26, -9.46), (13.528700577, -9.571299423), (13.64, -9.84))
            Line((13.64, -9.84), (13.64, -12.64))
            ThreePointArc((13.64, -12.64), (13.347106781, -13.347106781), (12.64, -13.64))
        make_face(mode=Mode.SUBTRACT)
        with BuildLine():
            Line((-13.64, -12.64), (-13.64, -9.84))
            ThreePointArc((-13.64, -9.84), (-13.528700577, -9.571299423), (-13.26, -9.46))
            Line((-13.26, -9.46), (-9.84, -9.46))
            ThreePointArc((-9.84, -9.46), (-9.571299423, -9.571299423), (-9.46, -9.84))
            Line((-9.46, -9.84), (-9.46, -13.26))
            ThreePointArc((-9.46, -13.26), (-9.571299423, -13.528700577), (-9.84, -13.64))
            Line((-9.84, -13.64), (-12.64, -13.64))
            ThreePointArc((-12.64, -13.64), (-13.347106781, -13.347106781), (-13.64, -12.64))
        make_face(mode=Mode.SUBTRACT)
    extrude(amount=PERFIL_COM_ALUMINIO_PERFIL_COMER_30_X_DEPTH)


solid = part.part
